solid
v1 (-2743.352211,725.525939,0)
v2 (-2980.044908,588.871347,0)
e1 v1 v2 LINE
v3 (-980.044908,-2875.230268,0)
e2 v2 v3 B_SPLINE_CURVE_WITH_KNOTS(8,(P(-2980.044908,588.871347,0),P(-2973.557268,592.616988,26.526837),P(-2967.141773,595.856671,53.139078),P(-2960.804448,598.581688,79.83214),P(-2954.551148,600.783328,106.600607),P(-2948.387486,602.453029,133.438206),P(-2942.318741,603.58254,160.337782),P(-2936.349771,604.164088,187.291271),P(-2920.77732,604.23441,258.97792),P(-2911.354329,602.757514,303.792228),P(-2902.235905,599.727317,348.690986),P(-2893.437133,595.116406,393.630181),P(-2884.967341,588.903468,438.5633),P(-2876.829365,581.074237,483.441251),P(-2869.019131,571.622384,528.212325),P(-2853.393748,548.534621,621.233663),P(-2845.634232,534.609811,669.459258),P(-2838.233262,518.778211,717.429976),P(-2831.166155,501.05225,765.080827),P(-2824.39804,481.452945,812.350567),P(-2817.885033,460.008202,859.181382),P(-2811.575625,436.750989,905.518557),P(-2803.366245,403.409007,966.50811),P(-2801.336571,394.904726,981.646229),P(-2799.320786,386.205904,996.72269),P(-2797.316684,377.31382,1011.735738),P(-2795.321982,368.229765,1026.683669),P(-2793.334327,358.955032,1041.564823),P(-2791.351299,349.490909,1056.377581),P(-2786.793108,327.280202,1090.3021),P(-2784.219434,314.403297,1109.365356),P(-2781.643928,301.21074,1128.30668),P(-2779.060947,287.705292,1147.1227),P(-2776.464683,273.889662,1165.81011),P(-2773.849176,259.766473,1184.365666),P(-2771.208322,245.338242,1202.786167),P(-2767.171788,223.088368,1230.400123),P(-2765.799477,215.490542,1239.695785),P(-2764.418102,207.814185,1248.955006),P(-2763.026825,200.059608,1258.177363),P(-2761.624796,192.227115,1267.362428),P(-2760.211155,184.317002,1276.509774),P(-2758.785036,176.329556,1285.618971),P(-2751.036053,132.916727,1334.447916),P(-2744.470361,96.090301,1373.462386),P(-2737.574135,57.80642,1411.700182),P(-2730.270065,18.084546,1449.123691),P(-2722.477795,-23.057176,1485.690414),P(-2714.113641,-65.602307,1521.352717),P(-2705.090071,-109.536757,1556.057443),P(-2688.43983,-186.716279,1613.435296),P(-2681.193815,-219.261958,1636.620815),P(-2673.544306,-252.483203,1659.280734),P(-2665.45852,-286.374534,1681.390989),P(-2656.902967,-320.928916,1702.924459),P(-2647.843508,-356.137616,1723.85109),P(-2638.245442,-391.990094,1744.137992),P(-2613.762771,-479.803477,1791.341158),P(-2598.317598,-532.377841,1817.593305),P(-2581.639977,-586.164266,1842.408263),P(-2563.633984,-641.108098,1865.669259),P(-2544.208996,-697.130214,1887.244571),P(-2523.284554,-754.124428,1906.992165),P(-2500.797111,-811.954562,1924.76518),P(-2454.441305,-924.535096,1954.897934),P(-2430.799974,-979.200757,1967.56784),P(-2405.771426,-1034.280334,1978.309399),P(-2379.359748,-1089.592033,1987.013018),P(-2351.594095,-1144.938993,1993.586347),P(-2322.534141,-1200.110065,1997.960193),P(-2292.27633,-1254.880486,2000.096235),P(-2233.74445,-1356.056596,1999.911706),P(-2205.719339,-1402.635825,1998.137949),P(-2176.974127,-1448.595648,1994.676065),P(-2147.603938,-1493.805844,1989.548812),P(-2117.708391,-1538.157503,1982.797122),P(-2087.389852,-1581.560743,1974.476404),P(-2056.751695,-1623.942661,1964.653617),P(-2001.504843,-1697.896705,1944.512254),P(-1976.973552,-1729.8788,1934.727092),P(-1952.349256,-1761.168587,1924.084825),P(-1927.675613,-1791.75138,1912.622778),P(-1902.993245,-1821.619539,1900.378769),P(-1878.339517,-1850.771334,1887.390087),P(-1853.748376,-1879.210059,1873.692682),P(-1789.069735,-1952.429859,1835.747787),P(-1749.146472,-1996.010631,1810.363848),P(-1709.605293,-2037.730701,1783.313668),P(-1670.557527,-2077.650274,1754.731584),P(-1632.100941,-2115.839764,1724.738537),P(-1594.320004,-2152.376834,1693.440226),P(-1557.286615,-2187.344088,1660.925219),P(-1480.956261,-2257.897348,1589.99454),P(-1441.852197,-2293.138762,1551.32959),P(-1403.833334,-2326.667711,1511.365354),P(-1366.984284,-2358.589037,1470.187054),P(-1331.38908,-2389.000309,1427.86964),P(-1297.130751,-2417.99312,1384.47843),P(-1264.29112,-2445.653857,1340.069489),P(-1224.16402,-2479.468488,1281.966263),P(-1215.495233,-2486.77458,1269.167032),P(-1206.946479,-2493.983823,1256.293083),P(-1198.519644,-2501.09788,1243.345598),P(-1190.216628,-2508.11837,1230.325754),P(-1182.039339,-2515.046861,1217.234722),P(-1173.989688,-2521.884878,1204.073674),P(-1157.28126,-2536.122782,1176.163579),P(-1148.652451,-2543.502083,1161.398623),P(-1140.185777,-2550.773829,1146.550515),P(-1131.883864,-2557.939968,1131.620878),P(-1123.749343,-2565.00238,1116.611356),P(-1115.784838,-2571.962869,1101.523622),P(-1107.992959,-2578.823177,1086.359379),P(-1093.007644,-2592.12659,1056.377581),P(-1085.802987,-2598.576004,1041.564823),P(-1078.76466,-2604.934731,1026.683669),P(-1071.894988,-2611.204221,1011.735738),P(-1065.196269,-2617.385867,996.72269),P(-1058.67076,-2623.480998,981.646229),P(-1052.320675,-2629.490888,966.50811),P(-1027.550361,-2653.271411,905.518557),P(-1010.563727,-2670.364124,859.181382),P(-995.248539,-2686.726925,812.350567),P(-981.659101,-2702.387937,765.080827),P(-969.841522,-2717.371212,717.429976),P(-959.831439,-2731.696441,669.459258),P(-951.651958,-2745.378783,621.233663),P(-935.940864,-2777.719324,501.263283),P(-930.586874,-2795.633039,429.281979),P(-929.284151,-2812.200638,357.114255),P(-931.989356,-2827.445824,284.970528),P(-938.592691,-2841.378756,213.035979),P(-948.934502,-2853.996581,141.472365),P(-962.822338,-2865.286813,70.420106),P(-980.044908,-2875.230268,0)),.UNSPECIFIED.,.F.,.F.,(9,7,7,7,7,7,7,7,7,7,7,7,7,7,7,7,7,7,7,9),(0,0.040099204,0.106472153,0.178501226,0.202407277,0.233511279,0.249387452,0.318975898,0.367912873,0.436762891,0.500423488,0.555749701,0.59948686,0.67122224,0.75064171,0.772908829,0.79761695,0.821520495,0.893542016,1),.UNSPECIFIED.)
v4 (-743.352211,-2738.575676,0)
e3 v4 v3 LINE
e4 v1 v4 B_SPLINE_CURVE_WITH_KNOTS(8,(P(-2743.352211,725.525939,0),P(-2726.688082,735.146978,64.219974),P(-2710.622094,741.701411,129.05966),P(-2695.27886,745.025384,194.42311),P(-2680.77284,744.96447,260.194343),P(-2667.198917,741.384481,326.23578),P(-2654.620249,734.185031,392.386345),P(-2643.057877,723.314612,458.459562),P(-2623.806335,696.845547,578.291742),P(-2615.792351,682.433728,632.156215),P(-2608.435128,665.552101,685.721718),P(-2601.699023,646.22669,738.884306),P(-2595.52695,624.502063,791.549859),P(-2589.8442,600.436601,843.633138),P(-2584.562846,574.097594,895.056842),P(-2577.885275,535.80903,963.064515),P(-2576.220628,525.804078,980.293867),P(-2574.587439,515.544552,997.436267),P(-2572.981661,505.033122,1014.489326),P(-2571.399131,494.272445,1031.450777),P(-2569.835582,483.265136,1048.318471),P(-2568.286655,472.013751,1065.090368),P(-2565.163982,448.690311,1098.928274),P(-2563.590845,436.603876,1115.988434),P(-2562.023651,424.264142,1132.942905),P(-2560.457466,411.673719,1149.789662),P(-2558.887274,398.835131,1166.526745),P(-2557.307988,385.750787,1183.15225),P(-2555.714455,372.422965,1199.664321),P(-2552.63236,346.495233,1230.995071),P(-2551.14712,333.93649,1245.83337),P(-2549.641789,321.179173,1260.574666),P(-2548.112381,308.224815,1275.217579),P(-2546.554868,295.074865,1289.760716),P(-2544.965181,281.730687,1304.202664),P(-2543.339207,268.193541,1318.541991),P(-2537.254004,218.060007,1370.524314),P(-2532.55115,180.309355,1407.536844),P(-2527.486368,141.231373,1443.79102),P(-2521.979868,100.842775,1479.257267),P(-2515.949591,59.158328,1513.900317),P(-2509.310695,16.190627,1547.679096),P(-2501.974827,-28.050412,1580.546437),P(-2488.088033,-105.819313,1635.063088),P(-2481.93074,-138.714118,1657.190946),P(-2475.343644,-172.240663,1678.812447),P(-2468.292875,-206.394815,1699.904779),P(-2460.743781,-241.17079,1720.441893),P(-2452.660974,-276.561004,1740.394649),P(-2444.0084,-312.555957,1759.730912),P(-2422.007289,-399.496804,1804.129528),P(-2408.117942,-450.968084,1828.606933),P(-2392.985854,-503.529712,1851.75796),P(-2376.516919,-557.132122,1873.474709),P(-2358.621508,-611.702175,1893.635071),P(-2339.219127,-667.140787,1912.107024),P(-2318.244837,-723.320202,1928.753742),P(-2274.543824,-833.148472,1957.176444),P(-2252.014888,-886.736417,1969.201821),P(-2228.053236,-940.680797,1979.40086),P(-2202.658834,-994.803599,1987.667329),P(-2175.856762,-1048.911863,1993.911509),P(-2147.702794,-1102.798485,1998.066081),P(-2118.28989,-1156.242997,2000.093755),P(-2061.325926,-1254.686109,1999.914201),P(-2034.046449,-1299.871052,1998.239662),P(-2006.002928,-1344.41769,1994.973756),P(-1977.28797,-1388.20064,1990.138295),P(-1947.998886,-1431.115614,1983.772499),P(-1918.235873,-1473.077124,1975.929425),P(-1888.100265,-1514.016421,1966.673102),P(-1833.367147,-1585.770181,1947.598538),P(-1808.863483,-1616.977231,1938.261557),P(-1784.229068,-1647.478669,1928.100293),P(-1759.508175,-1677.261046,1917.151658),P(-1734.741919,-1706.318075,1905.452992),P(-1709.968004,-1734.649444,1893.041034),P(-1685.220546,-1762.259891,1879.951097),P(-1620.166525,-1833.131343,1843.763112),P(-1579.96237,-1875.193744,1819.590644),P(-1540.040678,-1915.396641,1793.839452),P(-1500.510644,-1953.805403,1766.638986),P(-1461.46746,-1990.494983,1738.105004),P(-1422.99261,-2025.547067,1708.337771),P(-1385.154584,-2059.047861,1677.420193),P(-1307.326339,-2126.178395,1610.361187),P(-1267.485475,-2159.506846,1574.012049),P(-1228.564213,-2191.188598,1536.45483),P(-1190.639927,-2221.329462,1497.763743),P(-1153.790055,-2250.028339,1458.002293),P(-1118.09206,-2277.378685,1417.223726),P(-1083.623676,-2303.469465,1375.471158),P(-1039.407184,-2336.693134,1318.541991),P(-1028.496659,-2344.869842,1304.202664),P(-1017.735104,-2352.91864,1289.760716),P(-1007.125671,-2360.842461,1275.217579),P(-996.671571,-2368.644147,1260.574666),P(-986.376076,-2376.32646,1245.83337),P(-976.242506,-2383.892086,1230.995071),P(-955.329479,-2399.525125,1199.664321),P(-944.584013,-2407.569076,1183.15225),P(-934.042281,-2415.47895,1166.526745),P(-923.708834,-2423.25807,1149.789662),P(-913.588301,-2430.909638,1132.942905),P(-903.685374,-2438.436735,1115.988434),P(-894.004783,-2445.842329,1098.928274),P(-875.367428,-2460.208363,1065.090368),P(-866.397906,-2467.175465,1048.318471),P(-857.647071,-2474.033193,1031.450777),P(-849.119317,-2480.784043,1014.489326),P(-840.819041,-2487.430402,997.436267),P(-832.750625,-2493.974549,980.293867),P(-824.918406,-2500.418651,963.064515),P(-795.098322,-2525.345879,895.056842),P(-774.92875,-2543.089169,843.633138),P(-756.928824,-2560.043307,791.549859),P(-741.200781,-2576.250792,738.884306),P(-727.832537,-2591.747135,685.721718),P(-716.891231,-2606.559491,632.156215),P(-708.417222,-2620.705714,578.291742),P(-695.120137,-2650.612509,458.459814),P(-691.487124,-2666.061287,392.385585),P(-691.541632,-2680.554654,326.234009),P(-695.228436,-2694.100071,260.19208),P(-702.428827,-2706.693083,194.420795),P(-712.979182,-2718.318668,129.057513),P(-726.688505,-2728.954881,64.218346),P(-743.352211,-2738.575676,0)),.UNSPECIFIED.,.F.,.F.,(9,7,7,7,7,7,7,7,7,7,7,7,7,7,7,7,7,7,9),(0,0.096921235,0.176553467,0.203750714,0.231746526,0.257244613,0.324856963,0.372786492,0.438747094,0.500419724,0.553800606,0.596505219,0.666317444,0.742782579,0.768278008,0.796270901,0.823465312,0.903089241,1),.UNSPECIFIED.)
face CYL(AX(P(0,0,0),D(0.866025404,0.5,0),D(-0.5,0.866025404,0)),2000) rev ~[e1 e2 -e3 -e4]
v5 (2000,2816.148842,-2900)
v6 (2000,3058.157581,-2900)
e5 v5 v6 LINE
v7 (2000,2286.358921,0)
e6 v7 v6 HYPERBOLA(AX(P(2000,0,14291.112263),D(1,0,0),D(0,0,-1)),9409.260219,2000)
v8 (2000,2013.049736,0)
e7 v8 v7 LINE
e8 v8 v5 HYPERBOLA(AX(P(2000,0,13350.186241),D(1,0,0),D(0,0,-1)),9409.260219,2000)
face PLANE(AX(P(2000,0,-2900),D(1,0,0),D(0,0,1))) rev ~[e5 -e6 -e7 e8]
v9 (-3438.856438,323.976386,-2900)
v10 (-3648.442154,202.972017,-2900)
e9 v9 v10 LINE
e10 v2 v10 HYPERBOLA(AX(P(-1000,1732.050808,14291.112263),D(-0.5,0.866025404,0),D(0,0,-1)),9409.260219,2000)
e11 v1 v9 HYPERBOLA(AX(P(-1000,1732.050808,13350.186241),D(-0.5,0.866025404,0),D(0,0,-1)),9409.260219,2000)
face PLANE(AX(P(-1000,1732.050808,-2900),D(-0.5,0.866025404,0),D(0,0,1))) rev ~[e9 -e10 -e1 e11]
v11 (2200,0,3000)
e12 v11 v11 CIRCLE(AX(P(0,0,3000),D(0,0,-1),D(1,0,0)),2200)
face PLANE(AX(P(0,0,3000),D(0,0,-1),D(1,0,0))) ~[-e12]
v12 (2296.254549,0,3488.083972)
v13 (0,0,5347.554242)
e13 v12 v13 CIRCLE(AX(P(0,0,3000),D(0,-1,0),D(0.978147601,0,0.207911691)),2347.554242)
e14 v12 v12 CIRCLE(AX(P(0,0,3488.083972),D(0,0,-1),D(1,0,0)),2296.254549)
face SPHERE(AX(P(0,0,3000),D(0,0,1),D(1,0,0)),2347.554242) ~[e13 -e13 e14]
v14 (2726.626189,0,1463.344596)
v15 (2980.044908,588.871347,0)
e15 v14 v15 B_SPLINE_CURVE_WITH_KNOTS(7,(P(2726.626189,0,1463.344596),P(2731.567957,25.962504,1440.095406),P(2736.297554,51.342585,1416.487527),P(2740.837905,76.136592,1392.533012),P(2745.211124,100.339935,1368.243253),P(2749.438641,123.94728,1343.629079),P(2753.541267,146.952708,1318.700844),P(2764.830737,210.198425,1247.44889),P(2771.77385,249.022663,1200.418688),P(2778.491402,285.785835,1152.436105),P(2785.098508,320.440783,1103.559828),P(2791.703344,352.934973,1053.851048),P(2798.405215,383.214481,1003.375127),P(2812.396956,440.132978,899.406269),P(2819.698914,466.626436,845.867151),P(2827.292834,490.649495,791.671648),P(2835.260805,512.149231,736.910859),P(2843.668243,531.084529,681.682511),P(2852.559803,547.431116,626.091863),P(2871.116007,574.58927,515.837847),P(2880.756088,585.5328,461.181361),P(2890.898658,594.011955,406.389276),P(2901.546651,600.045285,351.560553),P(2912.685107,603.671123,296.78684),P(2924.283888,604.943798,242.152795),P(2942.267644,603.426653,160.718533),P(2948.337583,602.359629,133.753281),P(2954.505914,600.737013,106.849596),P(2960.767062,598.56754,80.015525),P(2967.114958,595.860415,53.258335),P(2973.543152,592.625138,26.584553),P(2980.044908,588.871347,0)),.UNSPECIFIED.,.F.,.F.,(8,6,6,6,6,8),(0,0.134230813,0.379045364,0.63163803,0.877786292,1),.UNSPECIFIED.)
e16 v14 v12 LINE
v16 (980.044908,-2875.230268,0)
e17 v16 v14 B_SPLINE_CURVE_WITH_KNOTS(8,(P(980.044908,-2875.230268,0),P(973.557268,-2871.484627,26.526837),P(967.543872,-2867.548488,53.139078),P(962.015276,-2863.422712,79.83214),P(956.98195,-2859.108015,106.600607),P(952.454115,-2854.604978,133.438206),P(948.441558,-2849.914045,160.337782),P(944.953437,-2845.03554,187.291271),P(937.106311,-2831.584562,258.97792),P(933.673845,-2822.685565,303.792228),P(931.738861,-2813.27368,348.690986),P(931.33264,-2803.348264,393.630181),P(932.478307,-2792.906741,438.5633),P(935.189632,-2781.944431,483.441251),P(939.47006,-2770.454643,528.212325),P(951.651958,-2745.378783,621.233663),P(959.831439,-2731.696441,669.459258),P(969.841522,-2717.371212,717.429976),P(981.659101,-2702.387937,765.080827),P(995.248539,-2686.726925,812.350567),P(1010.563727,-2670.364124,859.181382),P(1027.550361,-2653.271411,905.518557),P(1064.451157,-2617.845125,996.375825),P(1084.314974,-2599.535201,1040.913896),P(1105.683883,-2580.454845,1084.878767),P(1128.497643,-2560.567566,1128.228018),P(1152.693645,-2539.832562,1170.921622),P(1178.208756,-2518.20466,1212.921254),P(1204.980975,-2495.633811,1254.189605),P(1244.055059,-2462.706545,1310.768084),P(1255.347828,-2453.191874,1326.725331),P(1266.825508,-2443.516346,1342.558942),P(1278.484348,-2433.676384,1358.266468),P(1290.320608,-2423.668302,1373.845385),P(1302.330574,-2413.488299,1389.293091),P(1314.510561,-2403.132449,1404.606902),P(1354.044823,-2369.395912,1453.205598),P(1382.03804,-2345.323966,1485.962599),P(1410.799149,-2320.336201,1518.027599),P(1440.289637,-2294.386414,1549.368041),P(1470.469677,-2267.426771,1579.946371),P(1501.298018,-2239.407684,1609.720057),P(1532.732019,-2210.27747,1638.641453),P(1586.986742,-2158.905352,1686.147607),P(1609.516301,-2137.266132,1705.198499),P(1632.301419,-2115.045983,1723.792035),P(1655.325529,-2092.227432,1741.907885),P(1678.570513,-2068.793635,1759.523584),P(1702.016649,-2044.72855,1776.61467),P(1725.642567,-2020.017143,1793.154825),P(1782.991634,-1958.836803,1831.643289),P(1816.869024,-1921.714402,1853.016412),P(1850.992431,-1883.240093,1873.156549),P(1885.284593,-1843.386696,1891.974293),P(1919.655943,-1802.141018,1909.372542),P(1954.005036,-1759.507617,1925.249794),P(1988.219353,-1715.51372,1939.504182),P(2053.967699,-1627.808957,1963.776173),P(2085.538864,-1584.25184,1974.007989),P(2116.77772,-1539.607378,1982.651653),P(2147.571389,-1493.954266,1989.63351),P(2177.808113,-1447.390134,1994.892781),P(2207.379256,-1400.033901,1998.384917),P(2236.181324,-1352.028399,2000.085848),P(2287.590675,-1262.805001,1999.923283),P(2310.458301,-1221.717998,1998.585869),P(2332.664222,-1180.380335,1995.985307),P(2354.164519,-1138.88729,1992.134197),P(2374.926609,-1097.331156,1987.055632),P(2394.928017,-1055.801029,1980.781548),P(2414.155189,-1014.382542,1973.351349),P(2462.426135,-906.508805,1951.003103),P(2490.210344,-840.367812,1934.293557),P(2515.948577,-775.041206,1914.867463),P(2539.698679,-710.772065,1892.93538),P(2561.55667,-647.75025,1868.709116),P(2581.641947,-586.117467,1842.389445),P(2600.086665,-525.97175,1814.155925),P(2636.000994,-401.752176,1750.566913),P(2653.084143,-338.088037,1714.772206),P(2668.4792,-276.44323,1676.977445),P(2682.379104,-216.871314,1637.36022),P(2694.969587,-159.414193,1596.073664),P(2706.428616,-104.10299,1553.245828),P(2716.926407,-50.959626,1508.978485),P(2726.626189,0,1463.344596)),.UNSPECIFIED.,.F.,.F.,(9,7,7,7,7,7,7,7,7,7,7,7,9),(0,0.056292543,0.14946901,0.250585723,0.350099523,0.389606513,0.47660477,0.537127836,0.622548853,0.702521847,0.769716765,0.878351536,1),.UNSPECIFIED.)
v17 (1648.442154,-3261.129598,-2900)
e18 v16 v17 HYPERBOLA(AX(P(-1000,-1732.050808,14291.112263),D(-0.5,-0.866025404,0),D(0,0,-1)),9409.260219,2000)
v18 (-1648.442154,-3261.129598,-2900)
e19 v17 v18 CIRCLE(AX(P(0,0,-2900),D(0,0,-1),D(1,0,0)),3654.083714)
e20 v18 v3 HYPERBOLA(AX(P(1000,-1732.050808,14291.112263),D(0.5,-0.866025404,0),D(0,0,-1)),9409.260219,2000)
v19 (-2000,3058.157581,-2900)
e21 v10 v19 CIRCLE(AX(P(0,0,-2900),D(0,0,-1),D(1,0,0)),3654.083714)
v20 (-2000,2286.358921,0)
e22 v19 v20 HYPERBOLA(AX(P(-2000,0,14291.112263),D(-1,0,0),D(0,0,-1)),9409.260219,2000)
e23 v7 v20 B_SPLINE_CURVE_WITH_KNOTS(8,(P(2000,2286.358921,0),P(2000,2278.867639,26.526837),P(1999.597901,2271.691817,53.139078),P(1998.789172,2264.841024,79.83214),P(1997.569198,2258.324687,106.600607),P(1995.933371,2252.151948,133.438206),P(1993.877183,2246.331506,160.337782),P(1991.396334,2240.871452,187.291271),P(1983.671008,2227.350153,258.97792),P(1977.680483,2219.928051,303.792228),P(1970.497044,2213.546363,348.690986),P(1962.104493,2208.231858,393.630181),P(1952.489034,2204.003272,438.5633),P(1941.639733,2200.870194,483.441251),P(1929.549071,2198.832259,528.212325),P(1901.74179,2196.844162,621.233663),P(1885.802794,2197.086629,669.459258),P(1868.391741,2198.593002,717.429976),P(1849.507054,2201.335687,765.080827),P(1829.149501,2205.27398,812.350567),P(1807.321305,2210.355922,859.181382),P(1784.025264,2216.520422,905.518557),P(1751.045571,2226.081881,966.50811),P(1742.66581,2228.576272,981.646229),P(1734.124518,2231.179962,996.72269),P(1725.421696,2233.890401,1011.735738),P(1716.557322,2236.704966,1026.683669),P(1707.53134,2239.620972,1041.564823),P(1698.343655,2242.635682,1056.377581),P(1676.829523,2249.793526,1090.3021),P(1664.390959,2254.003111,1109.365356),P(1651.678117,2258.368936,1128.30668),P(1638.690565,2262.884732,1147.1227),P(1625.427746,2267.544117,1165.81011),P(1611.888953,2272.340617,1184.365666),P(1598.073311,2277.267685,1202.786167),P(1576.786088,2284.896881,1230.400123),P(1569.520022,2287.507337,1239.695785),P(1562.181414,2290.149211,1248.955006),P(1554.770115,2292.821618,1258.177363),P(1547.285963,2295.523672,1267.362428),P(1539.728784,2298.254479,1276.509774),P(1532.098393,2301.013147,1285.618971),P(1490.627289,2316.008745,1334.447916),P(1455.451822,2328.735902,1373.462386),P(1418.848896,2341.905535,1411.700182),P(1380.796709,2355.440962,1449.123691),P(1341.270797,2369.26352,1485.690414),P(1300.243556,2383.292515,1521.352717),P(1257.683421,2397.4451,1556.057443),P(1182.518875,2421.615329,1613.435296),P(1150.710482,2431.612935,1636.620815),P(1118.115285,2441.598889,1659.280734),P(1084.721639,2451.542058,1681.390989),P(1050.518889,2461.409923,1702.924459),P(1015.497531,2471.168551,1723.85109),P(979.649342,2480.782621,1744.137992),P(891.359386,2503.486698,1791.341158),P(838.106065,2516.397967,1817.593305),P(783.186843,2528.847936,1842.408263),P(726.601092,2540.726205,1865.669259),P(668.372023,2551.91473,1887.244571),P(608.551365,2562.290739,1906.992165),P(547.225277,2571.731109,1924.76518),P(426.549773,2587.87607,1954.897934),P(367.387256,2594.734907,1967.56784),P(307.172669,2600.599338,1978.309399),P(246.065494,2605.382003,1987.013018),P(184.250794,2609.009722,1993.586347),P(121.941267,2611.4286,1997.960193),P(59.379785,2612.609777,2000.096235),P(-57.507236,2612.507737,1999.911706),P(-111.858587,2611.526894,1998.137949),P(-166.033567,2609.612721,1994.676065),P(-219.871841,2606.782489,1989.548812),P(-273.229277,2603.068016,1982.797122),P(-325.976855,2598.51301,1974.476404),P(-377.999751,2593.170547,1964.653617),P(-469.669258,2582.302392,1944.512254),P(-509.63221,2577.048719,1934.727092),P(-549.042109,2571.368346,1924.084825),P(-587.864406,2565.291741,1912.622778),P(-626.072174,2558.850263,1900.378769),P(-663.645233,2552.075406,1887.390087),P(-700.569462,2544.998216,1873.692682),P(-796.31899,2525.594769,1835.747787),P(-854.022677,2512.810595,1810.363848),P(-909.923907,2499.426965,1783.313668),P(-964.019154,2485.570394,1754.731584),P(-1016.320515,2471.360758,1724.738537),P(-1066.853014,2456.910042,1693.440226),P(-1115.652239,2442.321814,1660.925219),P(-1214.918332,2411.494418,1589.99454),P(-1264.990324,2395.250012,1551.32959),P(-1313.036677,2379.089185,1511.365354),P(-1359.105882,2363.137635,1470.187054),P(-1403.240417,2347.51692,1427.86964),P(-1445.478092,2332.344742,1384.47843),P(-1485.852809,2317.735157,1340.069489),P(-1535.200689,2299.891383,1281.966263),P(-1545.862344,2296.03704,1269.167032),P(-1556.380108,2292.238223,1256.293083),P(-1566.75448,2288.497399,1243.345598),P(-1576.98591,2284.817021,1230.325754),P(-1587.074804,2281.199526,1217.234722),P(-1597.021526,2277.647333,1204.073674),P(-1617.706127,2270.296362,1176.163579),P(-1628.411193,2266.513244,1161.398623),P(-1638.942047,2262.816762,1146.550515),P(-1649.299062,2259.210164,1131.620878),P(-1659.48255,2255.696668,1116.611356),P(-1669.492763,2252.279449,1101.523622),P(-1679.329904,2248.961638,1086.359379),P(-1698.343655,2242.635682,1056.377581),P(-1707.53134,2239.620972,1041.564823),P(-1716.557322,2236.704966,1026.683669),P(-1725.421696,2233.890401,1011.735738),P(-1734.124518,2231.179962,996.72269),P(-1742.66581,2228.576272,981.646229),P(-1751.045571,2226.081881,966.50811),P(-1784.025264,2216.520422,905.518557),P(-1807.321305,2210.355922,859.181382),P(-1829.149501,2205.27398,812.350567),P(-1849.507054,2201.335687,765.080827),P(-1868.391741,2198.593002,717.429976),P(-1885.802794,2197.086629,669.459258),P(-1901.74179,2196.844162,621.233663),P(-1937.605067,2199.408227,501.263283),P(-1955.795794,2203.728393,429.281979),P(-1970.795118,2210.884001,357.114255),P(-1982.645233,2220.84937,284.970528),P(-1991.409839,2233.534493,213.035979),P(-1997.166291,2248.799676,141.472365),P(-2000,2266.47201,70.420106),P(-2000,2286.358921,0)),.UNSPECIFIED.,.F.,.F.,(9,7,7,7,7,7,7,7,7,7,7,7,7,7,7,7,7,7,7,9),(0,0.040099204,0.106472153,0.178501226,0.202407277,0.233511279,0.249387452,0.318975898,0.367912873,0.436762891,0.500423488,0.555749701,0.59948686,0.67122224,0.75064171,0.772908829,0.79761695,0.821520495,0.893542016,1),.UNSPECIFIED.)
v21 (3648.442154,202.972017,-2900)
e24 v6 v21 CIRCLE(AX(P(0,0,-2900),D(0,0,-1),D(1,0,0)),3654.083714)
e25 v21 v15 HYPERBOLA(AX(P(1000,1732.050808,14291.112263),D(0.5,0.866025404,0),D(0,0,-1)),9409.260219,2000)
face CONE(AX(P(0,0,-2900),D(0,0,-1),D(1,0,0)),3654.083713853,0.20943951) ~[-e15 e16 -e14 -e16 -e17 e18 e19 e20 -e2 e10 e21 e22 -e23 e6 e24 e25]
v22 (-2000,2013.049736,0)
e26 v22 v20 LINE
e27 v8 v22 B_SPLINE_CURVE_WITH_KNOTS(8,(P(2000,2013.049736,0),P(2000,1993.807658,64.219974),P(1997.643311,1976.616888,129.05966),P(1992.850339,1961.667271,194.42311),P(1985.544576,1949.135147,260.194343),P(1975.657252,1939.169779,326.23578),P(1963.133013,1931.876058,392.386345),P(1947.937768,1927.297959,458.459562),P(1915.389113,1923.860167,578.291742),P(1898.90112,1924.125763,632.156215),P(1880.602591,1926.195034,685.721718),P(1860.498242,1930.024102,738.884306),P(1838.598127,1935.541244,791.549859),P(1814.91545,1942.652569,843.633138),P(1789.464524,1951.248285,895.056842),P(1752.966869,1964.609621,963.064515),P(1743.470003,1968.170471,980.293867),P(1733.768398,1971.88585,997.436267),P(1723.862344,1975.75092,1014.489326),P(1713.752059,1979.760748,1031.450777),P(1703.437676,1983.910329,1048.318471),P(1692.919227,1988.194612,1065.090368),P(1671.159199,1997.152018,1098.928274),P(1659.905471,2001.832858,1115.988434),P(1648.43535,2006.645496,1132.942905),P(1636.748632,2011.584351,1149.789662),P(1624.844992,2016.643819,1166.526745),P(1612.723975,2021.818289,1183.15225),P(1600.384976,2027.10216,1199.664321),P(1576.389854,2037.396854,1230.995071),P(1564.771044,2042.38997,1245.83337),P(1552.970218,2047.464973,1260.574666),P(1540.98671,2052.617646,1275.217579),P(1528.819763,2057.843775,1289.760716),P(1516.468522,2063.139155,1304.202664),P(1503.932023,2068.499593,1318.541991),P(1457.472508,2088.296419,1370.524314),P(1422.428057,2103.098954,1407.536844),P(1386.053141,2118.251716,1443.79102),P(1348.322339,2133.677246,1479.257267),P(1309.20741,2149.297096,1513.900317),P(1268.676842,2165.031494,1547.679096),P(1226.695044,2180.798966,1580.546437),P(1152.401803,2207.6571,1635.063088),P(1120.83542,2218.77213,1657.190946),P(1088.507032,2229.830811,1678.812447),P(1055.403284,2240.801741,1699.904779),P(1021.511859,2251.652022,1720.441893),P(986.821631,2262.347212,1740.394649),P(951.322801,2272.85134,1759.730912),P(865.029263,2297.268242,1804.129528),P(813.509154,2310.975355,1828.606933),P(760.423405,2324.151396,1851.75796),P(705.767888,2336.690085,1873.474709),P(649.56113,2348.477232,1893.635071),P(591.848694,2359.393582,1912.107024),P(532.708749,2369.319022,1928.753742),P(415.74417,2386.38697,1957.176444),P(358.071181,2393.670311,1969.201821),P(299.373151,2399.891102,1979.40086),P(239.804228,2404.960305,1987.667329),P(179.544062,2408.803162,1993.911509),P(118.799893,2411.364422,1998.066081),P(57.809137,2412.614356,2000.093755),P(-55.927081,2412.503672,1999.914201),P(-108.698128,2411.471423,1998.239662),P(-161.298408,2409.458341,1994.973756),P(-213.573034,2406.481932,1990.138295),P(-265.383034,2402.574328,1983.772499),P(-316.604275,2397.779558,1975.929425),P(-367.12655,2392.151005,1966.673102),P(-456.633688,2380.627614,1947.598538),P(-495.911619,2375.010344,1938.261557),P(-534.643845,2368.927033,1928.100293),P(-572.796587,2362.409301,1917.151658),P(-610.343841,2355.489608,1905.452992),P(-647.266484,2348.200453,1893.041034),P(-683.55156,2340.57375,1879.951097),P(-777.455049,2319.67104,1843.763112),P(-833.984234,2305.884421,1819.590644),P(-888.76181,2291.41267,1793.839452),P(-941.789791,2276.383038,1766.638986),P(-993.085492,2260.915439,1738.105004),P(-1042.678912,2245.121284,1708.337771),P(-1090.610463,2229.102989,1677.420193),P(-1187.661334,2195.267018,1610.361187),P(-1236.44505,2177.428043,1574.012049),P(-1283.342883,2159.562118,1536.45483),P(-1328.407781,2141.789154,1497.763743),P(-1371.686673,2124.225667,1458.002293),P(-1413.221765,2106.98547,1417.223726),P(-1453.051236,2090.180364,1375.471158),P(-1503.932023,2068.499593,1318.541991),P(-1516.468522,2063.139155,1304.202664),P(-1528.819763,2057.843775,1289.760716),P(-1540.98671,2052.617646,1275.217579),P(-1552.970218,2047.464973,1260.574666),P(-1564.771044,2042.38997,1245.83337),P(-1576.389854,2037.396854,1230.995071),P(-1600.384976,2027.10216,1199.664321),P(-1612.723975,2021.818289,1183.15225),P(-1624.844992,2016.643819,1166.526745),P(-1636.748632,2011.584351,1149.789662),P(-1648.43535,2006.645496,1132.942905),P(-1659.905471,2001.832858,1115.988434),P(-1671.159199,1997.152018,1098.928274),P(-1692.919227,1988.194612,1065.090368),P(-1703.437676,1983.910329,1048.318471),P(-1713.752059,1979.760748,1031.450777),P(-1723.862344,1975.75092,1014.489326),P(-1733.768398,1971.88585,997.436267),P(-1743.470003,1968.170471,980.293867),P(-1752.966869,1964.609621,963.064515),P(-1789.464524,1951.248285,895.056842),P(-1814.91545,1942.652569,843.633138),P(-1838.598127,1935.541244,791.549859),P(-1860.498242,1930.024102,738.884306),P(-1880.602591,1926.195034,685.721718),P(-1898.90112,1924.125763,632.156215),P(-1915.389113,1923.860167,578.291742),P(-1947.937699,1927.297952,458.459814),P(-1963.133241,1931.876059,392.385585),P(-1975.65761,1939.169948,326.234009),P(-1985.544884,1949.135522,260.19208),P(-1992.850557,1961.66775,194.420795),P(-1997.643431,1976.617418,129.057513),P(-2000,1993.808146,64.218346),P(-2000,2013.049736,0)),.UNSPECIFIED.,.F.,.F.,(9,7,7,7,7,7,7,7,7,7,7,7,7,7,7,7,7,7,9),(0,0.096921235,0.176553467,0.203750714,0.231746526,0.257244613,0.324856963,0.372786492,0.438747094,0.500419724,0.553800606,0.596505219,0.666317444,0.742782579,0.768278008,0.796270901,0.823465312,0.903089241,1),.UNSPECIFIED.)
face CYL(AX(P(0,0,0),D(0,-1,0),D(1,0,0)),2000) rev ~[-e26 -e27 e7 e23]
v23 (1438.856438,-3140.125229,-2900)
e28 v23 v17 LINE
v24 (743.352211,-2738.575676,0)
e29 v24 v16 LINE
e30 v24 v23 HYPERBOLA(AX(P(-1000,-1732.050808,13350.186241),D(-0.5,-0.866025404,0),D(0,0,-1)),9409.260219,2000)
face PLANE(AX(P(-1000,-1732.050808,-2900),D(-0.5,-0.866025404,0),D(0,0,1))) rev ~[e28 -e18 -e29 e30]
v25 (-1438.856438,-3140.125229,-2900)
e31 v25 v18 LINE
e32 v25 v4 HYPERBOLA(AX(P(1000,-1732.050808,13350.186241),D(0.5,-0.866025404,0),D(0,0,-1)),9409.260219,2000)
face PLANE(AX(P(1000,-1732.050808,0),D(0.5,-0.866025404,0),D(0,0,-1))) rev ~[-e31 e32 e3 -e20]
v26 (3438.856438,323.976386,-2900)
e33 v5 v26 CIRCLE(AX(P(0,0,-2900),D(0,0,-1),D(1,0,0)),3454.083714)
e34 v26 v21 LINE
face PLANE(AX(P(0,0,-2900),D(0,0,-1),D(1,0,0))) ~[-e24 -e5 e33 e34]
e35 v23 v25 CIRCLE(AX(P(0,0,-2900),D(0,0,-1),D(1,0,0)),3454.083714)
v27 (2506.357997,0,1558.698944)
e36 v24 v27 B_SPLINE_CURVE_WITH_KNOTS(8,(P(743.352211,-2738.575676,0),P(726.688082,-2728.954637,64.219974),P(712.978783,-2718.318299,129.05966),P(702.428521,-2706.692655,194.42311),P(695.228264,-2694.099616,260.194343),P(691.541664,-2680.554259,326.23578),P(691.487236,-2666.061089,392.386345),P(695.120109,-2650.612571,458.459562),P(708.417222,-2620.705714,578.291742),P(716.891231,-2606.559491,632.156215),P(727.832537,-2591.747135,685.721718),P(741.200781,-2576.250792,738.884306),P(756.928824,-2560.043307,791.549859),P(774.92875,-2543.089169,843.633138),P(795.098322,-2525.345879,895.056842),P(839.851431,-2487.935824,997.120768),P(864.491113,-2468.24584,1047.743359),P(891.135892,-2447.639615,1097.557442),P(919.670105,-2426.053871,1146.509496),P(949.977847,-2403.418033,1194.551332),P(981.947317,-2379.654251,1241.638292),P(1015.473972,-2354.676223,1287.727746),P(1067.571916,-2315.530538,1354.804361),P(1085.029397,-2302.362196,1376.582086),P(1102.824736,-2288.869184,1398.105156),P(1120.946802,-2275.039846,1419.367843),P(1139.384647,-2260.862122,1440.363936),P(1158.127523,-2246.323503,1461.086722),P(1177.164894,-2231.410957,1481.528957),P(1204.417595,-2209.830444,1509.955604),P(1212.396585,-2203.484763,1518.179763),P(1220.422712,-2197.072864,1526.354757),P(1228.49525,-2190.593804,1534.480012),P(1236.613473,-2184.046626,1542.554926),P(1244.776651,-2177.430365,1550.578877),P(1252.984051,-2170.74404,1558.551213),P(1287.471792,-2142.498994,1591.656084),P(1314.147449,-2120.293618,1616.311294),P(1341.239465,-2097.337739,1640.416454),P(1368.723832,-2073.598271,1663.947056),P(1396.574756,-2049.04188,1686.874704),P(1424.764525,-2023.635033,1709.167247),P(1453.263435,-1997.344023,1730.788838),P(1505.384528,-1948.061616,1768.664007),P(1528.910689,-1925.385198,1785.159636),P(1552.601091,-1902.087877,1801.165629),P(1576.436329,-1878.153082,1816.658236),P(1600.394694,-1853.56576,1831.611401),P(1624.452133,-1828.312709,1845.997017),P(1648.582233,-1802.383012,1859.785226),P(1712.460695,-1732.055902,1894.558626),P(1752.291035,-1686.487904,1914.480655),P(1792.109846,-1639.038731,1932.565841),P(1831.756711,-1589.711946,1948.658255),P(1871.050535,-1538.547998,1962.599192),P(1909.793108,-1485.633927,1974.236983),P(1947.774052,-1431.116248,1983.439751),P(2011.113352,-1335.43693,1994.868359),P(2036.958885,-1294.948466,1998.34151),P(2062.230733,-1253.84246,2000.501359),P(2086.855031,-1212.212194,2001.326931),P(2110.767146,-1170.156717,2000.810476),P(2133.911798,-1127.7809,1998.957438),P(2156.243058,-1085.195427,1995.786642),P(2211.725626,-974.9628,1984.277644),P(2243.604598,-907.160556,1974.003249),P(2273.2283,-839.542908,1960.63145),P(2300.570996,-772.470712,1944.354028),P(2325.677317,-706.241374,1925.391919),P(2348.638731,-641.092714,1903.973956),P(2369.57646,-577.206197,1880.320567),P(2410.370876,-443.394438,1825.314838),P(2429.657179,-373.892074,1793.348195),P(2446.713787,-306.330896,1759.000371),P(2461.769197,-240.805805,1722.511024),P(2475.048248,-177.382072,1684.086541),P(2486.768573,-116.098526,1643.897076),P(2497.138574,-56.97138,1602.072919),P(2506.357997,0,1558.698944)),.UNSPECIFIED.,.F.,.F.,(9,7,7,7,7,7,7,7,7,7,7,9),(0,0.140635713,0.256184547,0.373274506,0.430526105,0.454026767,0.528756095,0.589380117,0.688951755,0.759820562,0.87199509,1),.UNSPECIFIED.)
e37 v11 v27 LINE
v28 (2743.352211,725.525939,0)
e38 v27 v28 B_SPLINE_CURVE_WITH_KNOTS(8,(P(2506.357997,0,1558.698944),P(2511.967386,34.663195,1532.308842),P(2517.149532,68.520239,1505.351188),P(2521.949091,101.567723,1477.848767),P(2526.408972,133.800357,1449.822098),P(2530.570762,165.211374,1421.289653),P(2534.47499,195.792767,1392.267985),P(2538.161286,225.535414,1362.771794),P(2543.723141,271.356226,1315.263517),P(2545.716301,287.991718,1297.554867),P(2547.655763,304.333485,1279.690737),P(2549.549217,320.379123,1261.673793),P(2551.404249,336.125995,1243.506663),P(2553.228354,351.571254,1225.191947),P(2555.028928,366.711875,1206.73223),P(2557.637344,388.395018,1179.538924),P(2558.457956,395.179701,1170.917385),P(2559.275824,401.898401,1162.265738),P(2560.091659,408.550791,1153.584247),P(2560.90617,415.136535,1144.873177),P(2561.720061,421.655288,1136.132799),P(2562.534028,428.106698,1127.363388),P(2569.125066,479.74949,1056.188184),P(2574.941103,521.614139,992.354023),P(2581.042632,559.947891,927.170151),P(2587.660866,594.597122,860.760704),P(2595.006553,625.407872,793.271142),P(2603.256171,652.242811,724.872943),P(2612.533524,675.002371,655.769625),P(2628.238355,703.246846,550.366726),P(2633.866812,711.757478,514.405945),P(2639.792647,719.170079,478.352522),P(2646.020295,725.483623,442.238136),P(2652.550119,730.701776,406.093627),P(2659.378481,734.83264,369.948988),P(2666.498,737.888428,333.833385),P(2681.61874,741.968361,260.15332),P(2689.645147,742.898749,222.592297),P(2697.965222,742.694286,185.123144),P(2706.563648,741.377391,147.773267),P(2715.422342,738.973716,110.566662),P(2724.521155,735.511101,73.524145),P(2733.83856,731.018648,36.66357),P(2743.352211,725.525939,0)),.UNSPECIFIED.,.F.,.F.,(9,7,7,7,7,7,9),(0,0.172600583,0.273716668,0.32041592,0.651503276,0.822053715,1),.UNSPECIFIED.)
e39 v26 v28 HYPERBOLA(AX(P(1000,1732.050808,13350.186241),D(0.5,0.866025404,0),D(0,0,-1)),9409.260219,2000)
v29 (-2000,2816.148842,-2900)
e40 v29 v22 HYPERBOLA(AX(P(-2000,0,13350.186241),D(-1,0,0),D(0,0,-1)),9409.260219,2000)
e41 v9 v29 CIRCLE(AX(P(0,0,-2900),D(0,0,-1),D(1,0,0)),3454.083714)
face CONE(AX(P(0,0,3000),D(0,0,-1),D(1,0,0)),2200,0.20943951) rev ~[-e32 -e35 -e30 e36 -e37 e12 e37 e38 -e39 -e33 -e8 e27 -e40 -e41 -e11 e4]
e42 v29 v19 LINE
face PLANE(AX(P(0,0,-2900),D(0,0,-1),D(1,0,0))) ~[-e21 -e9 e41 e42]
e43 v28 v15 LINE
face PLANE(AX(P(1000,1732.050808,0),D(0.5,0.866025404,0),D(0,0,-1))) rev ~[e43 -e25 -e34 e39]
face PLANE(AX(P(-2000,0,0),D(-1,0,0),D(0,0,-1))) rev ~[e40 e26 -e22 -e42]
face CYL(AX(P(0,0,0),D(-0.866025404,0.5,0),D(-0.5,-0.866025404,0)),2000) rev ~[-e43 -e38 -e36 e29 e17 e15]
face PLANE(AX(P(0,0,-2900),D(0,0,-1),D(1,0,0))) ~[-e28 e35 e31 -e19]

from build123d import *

# Parameters (mm, degrees)
SCHNITT_LINEAR_AUSTRAGEN1_DEPTH = 7437.463671953
KREISMUSTER1_COUNT              = 3


with BuildPart() as part:
    # Skizze1 → Rotation1 (revolve)
    with BuildSketch(Plane(origin=(0, 0, 0), x_dir=(0, 0, -1), z_dir=(1, 0, 0)), mode=Mode.PRIVATE) as rotation1_sk:
        with BuildLine():
            Line((2900, -3654.083713853), (-3488.083971691, -2296.254549171))
            ThreePointArc((-3488.083971691, -2296.254549171), (-4824.392298286, -1477.363753436), (-5347.554241761, 0))
            Line((-5347.554241761, 0), (-3000, 0))
            Line((-3000, 0), (-3000, -2200))
            Line((-3000, -2200), (2900, -3454.083713853))
            Line((2900, -3454.083713853), (2900, -3654.083713853))
        make_face()
    revolve(rotation1_sk.sketch.rotate(Axis((0, 0, 0), (0, 0, -1)), 270), axis=Axis((0, 0, 0), (0, 0, -1)))

    # Skizze2 → Schnitt-Linear austragen1 (cut, through all)
    with BuildSketch(Plane(origin=(0, 0, 0), x_dir=(1, 0, 0), z_dir=(0, 1, 0))):
        with BuildLine():
            Line((-2000, 0), (-2000, 2900))
            Line((-2000, 2900), (2000, 2900))
            Line((2000, 2900), (2000, 0))
            ThreePointArc((2000, 0), (0, -2000), (-2000, 0))
        make_face()
    schnitt_linear_austragen1 = extrude(amount=SCHNITT_LINEAR_AUSTRAGEN1_DEPTH, mode=Mode.SUBTRACT)

    # Kreismuster1: Schnitt-Linear austragen1 ×3 about axis
    kreismuster1_axis = Axis((0, 0, 0), (0, 0, 1))
    for i in range(1, KREISMUSTER1_COUNT):
        add(schnitt_linear_austragen1.rotate(kreismuster1_axis, i * 360 / KREISMUSTER1_COUNT), mode=Mode.SUBTRACT)


solid = part.part
